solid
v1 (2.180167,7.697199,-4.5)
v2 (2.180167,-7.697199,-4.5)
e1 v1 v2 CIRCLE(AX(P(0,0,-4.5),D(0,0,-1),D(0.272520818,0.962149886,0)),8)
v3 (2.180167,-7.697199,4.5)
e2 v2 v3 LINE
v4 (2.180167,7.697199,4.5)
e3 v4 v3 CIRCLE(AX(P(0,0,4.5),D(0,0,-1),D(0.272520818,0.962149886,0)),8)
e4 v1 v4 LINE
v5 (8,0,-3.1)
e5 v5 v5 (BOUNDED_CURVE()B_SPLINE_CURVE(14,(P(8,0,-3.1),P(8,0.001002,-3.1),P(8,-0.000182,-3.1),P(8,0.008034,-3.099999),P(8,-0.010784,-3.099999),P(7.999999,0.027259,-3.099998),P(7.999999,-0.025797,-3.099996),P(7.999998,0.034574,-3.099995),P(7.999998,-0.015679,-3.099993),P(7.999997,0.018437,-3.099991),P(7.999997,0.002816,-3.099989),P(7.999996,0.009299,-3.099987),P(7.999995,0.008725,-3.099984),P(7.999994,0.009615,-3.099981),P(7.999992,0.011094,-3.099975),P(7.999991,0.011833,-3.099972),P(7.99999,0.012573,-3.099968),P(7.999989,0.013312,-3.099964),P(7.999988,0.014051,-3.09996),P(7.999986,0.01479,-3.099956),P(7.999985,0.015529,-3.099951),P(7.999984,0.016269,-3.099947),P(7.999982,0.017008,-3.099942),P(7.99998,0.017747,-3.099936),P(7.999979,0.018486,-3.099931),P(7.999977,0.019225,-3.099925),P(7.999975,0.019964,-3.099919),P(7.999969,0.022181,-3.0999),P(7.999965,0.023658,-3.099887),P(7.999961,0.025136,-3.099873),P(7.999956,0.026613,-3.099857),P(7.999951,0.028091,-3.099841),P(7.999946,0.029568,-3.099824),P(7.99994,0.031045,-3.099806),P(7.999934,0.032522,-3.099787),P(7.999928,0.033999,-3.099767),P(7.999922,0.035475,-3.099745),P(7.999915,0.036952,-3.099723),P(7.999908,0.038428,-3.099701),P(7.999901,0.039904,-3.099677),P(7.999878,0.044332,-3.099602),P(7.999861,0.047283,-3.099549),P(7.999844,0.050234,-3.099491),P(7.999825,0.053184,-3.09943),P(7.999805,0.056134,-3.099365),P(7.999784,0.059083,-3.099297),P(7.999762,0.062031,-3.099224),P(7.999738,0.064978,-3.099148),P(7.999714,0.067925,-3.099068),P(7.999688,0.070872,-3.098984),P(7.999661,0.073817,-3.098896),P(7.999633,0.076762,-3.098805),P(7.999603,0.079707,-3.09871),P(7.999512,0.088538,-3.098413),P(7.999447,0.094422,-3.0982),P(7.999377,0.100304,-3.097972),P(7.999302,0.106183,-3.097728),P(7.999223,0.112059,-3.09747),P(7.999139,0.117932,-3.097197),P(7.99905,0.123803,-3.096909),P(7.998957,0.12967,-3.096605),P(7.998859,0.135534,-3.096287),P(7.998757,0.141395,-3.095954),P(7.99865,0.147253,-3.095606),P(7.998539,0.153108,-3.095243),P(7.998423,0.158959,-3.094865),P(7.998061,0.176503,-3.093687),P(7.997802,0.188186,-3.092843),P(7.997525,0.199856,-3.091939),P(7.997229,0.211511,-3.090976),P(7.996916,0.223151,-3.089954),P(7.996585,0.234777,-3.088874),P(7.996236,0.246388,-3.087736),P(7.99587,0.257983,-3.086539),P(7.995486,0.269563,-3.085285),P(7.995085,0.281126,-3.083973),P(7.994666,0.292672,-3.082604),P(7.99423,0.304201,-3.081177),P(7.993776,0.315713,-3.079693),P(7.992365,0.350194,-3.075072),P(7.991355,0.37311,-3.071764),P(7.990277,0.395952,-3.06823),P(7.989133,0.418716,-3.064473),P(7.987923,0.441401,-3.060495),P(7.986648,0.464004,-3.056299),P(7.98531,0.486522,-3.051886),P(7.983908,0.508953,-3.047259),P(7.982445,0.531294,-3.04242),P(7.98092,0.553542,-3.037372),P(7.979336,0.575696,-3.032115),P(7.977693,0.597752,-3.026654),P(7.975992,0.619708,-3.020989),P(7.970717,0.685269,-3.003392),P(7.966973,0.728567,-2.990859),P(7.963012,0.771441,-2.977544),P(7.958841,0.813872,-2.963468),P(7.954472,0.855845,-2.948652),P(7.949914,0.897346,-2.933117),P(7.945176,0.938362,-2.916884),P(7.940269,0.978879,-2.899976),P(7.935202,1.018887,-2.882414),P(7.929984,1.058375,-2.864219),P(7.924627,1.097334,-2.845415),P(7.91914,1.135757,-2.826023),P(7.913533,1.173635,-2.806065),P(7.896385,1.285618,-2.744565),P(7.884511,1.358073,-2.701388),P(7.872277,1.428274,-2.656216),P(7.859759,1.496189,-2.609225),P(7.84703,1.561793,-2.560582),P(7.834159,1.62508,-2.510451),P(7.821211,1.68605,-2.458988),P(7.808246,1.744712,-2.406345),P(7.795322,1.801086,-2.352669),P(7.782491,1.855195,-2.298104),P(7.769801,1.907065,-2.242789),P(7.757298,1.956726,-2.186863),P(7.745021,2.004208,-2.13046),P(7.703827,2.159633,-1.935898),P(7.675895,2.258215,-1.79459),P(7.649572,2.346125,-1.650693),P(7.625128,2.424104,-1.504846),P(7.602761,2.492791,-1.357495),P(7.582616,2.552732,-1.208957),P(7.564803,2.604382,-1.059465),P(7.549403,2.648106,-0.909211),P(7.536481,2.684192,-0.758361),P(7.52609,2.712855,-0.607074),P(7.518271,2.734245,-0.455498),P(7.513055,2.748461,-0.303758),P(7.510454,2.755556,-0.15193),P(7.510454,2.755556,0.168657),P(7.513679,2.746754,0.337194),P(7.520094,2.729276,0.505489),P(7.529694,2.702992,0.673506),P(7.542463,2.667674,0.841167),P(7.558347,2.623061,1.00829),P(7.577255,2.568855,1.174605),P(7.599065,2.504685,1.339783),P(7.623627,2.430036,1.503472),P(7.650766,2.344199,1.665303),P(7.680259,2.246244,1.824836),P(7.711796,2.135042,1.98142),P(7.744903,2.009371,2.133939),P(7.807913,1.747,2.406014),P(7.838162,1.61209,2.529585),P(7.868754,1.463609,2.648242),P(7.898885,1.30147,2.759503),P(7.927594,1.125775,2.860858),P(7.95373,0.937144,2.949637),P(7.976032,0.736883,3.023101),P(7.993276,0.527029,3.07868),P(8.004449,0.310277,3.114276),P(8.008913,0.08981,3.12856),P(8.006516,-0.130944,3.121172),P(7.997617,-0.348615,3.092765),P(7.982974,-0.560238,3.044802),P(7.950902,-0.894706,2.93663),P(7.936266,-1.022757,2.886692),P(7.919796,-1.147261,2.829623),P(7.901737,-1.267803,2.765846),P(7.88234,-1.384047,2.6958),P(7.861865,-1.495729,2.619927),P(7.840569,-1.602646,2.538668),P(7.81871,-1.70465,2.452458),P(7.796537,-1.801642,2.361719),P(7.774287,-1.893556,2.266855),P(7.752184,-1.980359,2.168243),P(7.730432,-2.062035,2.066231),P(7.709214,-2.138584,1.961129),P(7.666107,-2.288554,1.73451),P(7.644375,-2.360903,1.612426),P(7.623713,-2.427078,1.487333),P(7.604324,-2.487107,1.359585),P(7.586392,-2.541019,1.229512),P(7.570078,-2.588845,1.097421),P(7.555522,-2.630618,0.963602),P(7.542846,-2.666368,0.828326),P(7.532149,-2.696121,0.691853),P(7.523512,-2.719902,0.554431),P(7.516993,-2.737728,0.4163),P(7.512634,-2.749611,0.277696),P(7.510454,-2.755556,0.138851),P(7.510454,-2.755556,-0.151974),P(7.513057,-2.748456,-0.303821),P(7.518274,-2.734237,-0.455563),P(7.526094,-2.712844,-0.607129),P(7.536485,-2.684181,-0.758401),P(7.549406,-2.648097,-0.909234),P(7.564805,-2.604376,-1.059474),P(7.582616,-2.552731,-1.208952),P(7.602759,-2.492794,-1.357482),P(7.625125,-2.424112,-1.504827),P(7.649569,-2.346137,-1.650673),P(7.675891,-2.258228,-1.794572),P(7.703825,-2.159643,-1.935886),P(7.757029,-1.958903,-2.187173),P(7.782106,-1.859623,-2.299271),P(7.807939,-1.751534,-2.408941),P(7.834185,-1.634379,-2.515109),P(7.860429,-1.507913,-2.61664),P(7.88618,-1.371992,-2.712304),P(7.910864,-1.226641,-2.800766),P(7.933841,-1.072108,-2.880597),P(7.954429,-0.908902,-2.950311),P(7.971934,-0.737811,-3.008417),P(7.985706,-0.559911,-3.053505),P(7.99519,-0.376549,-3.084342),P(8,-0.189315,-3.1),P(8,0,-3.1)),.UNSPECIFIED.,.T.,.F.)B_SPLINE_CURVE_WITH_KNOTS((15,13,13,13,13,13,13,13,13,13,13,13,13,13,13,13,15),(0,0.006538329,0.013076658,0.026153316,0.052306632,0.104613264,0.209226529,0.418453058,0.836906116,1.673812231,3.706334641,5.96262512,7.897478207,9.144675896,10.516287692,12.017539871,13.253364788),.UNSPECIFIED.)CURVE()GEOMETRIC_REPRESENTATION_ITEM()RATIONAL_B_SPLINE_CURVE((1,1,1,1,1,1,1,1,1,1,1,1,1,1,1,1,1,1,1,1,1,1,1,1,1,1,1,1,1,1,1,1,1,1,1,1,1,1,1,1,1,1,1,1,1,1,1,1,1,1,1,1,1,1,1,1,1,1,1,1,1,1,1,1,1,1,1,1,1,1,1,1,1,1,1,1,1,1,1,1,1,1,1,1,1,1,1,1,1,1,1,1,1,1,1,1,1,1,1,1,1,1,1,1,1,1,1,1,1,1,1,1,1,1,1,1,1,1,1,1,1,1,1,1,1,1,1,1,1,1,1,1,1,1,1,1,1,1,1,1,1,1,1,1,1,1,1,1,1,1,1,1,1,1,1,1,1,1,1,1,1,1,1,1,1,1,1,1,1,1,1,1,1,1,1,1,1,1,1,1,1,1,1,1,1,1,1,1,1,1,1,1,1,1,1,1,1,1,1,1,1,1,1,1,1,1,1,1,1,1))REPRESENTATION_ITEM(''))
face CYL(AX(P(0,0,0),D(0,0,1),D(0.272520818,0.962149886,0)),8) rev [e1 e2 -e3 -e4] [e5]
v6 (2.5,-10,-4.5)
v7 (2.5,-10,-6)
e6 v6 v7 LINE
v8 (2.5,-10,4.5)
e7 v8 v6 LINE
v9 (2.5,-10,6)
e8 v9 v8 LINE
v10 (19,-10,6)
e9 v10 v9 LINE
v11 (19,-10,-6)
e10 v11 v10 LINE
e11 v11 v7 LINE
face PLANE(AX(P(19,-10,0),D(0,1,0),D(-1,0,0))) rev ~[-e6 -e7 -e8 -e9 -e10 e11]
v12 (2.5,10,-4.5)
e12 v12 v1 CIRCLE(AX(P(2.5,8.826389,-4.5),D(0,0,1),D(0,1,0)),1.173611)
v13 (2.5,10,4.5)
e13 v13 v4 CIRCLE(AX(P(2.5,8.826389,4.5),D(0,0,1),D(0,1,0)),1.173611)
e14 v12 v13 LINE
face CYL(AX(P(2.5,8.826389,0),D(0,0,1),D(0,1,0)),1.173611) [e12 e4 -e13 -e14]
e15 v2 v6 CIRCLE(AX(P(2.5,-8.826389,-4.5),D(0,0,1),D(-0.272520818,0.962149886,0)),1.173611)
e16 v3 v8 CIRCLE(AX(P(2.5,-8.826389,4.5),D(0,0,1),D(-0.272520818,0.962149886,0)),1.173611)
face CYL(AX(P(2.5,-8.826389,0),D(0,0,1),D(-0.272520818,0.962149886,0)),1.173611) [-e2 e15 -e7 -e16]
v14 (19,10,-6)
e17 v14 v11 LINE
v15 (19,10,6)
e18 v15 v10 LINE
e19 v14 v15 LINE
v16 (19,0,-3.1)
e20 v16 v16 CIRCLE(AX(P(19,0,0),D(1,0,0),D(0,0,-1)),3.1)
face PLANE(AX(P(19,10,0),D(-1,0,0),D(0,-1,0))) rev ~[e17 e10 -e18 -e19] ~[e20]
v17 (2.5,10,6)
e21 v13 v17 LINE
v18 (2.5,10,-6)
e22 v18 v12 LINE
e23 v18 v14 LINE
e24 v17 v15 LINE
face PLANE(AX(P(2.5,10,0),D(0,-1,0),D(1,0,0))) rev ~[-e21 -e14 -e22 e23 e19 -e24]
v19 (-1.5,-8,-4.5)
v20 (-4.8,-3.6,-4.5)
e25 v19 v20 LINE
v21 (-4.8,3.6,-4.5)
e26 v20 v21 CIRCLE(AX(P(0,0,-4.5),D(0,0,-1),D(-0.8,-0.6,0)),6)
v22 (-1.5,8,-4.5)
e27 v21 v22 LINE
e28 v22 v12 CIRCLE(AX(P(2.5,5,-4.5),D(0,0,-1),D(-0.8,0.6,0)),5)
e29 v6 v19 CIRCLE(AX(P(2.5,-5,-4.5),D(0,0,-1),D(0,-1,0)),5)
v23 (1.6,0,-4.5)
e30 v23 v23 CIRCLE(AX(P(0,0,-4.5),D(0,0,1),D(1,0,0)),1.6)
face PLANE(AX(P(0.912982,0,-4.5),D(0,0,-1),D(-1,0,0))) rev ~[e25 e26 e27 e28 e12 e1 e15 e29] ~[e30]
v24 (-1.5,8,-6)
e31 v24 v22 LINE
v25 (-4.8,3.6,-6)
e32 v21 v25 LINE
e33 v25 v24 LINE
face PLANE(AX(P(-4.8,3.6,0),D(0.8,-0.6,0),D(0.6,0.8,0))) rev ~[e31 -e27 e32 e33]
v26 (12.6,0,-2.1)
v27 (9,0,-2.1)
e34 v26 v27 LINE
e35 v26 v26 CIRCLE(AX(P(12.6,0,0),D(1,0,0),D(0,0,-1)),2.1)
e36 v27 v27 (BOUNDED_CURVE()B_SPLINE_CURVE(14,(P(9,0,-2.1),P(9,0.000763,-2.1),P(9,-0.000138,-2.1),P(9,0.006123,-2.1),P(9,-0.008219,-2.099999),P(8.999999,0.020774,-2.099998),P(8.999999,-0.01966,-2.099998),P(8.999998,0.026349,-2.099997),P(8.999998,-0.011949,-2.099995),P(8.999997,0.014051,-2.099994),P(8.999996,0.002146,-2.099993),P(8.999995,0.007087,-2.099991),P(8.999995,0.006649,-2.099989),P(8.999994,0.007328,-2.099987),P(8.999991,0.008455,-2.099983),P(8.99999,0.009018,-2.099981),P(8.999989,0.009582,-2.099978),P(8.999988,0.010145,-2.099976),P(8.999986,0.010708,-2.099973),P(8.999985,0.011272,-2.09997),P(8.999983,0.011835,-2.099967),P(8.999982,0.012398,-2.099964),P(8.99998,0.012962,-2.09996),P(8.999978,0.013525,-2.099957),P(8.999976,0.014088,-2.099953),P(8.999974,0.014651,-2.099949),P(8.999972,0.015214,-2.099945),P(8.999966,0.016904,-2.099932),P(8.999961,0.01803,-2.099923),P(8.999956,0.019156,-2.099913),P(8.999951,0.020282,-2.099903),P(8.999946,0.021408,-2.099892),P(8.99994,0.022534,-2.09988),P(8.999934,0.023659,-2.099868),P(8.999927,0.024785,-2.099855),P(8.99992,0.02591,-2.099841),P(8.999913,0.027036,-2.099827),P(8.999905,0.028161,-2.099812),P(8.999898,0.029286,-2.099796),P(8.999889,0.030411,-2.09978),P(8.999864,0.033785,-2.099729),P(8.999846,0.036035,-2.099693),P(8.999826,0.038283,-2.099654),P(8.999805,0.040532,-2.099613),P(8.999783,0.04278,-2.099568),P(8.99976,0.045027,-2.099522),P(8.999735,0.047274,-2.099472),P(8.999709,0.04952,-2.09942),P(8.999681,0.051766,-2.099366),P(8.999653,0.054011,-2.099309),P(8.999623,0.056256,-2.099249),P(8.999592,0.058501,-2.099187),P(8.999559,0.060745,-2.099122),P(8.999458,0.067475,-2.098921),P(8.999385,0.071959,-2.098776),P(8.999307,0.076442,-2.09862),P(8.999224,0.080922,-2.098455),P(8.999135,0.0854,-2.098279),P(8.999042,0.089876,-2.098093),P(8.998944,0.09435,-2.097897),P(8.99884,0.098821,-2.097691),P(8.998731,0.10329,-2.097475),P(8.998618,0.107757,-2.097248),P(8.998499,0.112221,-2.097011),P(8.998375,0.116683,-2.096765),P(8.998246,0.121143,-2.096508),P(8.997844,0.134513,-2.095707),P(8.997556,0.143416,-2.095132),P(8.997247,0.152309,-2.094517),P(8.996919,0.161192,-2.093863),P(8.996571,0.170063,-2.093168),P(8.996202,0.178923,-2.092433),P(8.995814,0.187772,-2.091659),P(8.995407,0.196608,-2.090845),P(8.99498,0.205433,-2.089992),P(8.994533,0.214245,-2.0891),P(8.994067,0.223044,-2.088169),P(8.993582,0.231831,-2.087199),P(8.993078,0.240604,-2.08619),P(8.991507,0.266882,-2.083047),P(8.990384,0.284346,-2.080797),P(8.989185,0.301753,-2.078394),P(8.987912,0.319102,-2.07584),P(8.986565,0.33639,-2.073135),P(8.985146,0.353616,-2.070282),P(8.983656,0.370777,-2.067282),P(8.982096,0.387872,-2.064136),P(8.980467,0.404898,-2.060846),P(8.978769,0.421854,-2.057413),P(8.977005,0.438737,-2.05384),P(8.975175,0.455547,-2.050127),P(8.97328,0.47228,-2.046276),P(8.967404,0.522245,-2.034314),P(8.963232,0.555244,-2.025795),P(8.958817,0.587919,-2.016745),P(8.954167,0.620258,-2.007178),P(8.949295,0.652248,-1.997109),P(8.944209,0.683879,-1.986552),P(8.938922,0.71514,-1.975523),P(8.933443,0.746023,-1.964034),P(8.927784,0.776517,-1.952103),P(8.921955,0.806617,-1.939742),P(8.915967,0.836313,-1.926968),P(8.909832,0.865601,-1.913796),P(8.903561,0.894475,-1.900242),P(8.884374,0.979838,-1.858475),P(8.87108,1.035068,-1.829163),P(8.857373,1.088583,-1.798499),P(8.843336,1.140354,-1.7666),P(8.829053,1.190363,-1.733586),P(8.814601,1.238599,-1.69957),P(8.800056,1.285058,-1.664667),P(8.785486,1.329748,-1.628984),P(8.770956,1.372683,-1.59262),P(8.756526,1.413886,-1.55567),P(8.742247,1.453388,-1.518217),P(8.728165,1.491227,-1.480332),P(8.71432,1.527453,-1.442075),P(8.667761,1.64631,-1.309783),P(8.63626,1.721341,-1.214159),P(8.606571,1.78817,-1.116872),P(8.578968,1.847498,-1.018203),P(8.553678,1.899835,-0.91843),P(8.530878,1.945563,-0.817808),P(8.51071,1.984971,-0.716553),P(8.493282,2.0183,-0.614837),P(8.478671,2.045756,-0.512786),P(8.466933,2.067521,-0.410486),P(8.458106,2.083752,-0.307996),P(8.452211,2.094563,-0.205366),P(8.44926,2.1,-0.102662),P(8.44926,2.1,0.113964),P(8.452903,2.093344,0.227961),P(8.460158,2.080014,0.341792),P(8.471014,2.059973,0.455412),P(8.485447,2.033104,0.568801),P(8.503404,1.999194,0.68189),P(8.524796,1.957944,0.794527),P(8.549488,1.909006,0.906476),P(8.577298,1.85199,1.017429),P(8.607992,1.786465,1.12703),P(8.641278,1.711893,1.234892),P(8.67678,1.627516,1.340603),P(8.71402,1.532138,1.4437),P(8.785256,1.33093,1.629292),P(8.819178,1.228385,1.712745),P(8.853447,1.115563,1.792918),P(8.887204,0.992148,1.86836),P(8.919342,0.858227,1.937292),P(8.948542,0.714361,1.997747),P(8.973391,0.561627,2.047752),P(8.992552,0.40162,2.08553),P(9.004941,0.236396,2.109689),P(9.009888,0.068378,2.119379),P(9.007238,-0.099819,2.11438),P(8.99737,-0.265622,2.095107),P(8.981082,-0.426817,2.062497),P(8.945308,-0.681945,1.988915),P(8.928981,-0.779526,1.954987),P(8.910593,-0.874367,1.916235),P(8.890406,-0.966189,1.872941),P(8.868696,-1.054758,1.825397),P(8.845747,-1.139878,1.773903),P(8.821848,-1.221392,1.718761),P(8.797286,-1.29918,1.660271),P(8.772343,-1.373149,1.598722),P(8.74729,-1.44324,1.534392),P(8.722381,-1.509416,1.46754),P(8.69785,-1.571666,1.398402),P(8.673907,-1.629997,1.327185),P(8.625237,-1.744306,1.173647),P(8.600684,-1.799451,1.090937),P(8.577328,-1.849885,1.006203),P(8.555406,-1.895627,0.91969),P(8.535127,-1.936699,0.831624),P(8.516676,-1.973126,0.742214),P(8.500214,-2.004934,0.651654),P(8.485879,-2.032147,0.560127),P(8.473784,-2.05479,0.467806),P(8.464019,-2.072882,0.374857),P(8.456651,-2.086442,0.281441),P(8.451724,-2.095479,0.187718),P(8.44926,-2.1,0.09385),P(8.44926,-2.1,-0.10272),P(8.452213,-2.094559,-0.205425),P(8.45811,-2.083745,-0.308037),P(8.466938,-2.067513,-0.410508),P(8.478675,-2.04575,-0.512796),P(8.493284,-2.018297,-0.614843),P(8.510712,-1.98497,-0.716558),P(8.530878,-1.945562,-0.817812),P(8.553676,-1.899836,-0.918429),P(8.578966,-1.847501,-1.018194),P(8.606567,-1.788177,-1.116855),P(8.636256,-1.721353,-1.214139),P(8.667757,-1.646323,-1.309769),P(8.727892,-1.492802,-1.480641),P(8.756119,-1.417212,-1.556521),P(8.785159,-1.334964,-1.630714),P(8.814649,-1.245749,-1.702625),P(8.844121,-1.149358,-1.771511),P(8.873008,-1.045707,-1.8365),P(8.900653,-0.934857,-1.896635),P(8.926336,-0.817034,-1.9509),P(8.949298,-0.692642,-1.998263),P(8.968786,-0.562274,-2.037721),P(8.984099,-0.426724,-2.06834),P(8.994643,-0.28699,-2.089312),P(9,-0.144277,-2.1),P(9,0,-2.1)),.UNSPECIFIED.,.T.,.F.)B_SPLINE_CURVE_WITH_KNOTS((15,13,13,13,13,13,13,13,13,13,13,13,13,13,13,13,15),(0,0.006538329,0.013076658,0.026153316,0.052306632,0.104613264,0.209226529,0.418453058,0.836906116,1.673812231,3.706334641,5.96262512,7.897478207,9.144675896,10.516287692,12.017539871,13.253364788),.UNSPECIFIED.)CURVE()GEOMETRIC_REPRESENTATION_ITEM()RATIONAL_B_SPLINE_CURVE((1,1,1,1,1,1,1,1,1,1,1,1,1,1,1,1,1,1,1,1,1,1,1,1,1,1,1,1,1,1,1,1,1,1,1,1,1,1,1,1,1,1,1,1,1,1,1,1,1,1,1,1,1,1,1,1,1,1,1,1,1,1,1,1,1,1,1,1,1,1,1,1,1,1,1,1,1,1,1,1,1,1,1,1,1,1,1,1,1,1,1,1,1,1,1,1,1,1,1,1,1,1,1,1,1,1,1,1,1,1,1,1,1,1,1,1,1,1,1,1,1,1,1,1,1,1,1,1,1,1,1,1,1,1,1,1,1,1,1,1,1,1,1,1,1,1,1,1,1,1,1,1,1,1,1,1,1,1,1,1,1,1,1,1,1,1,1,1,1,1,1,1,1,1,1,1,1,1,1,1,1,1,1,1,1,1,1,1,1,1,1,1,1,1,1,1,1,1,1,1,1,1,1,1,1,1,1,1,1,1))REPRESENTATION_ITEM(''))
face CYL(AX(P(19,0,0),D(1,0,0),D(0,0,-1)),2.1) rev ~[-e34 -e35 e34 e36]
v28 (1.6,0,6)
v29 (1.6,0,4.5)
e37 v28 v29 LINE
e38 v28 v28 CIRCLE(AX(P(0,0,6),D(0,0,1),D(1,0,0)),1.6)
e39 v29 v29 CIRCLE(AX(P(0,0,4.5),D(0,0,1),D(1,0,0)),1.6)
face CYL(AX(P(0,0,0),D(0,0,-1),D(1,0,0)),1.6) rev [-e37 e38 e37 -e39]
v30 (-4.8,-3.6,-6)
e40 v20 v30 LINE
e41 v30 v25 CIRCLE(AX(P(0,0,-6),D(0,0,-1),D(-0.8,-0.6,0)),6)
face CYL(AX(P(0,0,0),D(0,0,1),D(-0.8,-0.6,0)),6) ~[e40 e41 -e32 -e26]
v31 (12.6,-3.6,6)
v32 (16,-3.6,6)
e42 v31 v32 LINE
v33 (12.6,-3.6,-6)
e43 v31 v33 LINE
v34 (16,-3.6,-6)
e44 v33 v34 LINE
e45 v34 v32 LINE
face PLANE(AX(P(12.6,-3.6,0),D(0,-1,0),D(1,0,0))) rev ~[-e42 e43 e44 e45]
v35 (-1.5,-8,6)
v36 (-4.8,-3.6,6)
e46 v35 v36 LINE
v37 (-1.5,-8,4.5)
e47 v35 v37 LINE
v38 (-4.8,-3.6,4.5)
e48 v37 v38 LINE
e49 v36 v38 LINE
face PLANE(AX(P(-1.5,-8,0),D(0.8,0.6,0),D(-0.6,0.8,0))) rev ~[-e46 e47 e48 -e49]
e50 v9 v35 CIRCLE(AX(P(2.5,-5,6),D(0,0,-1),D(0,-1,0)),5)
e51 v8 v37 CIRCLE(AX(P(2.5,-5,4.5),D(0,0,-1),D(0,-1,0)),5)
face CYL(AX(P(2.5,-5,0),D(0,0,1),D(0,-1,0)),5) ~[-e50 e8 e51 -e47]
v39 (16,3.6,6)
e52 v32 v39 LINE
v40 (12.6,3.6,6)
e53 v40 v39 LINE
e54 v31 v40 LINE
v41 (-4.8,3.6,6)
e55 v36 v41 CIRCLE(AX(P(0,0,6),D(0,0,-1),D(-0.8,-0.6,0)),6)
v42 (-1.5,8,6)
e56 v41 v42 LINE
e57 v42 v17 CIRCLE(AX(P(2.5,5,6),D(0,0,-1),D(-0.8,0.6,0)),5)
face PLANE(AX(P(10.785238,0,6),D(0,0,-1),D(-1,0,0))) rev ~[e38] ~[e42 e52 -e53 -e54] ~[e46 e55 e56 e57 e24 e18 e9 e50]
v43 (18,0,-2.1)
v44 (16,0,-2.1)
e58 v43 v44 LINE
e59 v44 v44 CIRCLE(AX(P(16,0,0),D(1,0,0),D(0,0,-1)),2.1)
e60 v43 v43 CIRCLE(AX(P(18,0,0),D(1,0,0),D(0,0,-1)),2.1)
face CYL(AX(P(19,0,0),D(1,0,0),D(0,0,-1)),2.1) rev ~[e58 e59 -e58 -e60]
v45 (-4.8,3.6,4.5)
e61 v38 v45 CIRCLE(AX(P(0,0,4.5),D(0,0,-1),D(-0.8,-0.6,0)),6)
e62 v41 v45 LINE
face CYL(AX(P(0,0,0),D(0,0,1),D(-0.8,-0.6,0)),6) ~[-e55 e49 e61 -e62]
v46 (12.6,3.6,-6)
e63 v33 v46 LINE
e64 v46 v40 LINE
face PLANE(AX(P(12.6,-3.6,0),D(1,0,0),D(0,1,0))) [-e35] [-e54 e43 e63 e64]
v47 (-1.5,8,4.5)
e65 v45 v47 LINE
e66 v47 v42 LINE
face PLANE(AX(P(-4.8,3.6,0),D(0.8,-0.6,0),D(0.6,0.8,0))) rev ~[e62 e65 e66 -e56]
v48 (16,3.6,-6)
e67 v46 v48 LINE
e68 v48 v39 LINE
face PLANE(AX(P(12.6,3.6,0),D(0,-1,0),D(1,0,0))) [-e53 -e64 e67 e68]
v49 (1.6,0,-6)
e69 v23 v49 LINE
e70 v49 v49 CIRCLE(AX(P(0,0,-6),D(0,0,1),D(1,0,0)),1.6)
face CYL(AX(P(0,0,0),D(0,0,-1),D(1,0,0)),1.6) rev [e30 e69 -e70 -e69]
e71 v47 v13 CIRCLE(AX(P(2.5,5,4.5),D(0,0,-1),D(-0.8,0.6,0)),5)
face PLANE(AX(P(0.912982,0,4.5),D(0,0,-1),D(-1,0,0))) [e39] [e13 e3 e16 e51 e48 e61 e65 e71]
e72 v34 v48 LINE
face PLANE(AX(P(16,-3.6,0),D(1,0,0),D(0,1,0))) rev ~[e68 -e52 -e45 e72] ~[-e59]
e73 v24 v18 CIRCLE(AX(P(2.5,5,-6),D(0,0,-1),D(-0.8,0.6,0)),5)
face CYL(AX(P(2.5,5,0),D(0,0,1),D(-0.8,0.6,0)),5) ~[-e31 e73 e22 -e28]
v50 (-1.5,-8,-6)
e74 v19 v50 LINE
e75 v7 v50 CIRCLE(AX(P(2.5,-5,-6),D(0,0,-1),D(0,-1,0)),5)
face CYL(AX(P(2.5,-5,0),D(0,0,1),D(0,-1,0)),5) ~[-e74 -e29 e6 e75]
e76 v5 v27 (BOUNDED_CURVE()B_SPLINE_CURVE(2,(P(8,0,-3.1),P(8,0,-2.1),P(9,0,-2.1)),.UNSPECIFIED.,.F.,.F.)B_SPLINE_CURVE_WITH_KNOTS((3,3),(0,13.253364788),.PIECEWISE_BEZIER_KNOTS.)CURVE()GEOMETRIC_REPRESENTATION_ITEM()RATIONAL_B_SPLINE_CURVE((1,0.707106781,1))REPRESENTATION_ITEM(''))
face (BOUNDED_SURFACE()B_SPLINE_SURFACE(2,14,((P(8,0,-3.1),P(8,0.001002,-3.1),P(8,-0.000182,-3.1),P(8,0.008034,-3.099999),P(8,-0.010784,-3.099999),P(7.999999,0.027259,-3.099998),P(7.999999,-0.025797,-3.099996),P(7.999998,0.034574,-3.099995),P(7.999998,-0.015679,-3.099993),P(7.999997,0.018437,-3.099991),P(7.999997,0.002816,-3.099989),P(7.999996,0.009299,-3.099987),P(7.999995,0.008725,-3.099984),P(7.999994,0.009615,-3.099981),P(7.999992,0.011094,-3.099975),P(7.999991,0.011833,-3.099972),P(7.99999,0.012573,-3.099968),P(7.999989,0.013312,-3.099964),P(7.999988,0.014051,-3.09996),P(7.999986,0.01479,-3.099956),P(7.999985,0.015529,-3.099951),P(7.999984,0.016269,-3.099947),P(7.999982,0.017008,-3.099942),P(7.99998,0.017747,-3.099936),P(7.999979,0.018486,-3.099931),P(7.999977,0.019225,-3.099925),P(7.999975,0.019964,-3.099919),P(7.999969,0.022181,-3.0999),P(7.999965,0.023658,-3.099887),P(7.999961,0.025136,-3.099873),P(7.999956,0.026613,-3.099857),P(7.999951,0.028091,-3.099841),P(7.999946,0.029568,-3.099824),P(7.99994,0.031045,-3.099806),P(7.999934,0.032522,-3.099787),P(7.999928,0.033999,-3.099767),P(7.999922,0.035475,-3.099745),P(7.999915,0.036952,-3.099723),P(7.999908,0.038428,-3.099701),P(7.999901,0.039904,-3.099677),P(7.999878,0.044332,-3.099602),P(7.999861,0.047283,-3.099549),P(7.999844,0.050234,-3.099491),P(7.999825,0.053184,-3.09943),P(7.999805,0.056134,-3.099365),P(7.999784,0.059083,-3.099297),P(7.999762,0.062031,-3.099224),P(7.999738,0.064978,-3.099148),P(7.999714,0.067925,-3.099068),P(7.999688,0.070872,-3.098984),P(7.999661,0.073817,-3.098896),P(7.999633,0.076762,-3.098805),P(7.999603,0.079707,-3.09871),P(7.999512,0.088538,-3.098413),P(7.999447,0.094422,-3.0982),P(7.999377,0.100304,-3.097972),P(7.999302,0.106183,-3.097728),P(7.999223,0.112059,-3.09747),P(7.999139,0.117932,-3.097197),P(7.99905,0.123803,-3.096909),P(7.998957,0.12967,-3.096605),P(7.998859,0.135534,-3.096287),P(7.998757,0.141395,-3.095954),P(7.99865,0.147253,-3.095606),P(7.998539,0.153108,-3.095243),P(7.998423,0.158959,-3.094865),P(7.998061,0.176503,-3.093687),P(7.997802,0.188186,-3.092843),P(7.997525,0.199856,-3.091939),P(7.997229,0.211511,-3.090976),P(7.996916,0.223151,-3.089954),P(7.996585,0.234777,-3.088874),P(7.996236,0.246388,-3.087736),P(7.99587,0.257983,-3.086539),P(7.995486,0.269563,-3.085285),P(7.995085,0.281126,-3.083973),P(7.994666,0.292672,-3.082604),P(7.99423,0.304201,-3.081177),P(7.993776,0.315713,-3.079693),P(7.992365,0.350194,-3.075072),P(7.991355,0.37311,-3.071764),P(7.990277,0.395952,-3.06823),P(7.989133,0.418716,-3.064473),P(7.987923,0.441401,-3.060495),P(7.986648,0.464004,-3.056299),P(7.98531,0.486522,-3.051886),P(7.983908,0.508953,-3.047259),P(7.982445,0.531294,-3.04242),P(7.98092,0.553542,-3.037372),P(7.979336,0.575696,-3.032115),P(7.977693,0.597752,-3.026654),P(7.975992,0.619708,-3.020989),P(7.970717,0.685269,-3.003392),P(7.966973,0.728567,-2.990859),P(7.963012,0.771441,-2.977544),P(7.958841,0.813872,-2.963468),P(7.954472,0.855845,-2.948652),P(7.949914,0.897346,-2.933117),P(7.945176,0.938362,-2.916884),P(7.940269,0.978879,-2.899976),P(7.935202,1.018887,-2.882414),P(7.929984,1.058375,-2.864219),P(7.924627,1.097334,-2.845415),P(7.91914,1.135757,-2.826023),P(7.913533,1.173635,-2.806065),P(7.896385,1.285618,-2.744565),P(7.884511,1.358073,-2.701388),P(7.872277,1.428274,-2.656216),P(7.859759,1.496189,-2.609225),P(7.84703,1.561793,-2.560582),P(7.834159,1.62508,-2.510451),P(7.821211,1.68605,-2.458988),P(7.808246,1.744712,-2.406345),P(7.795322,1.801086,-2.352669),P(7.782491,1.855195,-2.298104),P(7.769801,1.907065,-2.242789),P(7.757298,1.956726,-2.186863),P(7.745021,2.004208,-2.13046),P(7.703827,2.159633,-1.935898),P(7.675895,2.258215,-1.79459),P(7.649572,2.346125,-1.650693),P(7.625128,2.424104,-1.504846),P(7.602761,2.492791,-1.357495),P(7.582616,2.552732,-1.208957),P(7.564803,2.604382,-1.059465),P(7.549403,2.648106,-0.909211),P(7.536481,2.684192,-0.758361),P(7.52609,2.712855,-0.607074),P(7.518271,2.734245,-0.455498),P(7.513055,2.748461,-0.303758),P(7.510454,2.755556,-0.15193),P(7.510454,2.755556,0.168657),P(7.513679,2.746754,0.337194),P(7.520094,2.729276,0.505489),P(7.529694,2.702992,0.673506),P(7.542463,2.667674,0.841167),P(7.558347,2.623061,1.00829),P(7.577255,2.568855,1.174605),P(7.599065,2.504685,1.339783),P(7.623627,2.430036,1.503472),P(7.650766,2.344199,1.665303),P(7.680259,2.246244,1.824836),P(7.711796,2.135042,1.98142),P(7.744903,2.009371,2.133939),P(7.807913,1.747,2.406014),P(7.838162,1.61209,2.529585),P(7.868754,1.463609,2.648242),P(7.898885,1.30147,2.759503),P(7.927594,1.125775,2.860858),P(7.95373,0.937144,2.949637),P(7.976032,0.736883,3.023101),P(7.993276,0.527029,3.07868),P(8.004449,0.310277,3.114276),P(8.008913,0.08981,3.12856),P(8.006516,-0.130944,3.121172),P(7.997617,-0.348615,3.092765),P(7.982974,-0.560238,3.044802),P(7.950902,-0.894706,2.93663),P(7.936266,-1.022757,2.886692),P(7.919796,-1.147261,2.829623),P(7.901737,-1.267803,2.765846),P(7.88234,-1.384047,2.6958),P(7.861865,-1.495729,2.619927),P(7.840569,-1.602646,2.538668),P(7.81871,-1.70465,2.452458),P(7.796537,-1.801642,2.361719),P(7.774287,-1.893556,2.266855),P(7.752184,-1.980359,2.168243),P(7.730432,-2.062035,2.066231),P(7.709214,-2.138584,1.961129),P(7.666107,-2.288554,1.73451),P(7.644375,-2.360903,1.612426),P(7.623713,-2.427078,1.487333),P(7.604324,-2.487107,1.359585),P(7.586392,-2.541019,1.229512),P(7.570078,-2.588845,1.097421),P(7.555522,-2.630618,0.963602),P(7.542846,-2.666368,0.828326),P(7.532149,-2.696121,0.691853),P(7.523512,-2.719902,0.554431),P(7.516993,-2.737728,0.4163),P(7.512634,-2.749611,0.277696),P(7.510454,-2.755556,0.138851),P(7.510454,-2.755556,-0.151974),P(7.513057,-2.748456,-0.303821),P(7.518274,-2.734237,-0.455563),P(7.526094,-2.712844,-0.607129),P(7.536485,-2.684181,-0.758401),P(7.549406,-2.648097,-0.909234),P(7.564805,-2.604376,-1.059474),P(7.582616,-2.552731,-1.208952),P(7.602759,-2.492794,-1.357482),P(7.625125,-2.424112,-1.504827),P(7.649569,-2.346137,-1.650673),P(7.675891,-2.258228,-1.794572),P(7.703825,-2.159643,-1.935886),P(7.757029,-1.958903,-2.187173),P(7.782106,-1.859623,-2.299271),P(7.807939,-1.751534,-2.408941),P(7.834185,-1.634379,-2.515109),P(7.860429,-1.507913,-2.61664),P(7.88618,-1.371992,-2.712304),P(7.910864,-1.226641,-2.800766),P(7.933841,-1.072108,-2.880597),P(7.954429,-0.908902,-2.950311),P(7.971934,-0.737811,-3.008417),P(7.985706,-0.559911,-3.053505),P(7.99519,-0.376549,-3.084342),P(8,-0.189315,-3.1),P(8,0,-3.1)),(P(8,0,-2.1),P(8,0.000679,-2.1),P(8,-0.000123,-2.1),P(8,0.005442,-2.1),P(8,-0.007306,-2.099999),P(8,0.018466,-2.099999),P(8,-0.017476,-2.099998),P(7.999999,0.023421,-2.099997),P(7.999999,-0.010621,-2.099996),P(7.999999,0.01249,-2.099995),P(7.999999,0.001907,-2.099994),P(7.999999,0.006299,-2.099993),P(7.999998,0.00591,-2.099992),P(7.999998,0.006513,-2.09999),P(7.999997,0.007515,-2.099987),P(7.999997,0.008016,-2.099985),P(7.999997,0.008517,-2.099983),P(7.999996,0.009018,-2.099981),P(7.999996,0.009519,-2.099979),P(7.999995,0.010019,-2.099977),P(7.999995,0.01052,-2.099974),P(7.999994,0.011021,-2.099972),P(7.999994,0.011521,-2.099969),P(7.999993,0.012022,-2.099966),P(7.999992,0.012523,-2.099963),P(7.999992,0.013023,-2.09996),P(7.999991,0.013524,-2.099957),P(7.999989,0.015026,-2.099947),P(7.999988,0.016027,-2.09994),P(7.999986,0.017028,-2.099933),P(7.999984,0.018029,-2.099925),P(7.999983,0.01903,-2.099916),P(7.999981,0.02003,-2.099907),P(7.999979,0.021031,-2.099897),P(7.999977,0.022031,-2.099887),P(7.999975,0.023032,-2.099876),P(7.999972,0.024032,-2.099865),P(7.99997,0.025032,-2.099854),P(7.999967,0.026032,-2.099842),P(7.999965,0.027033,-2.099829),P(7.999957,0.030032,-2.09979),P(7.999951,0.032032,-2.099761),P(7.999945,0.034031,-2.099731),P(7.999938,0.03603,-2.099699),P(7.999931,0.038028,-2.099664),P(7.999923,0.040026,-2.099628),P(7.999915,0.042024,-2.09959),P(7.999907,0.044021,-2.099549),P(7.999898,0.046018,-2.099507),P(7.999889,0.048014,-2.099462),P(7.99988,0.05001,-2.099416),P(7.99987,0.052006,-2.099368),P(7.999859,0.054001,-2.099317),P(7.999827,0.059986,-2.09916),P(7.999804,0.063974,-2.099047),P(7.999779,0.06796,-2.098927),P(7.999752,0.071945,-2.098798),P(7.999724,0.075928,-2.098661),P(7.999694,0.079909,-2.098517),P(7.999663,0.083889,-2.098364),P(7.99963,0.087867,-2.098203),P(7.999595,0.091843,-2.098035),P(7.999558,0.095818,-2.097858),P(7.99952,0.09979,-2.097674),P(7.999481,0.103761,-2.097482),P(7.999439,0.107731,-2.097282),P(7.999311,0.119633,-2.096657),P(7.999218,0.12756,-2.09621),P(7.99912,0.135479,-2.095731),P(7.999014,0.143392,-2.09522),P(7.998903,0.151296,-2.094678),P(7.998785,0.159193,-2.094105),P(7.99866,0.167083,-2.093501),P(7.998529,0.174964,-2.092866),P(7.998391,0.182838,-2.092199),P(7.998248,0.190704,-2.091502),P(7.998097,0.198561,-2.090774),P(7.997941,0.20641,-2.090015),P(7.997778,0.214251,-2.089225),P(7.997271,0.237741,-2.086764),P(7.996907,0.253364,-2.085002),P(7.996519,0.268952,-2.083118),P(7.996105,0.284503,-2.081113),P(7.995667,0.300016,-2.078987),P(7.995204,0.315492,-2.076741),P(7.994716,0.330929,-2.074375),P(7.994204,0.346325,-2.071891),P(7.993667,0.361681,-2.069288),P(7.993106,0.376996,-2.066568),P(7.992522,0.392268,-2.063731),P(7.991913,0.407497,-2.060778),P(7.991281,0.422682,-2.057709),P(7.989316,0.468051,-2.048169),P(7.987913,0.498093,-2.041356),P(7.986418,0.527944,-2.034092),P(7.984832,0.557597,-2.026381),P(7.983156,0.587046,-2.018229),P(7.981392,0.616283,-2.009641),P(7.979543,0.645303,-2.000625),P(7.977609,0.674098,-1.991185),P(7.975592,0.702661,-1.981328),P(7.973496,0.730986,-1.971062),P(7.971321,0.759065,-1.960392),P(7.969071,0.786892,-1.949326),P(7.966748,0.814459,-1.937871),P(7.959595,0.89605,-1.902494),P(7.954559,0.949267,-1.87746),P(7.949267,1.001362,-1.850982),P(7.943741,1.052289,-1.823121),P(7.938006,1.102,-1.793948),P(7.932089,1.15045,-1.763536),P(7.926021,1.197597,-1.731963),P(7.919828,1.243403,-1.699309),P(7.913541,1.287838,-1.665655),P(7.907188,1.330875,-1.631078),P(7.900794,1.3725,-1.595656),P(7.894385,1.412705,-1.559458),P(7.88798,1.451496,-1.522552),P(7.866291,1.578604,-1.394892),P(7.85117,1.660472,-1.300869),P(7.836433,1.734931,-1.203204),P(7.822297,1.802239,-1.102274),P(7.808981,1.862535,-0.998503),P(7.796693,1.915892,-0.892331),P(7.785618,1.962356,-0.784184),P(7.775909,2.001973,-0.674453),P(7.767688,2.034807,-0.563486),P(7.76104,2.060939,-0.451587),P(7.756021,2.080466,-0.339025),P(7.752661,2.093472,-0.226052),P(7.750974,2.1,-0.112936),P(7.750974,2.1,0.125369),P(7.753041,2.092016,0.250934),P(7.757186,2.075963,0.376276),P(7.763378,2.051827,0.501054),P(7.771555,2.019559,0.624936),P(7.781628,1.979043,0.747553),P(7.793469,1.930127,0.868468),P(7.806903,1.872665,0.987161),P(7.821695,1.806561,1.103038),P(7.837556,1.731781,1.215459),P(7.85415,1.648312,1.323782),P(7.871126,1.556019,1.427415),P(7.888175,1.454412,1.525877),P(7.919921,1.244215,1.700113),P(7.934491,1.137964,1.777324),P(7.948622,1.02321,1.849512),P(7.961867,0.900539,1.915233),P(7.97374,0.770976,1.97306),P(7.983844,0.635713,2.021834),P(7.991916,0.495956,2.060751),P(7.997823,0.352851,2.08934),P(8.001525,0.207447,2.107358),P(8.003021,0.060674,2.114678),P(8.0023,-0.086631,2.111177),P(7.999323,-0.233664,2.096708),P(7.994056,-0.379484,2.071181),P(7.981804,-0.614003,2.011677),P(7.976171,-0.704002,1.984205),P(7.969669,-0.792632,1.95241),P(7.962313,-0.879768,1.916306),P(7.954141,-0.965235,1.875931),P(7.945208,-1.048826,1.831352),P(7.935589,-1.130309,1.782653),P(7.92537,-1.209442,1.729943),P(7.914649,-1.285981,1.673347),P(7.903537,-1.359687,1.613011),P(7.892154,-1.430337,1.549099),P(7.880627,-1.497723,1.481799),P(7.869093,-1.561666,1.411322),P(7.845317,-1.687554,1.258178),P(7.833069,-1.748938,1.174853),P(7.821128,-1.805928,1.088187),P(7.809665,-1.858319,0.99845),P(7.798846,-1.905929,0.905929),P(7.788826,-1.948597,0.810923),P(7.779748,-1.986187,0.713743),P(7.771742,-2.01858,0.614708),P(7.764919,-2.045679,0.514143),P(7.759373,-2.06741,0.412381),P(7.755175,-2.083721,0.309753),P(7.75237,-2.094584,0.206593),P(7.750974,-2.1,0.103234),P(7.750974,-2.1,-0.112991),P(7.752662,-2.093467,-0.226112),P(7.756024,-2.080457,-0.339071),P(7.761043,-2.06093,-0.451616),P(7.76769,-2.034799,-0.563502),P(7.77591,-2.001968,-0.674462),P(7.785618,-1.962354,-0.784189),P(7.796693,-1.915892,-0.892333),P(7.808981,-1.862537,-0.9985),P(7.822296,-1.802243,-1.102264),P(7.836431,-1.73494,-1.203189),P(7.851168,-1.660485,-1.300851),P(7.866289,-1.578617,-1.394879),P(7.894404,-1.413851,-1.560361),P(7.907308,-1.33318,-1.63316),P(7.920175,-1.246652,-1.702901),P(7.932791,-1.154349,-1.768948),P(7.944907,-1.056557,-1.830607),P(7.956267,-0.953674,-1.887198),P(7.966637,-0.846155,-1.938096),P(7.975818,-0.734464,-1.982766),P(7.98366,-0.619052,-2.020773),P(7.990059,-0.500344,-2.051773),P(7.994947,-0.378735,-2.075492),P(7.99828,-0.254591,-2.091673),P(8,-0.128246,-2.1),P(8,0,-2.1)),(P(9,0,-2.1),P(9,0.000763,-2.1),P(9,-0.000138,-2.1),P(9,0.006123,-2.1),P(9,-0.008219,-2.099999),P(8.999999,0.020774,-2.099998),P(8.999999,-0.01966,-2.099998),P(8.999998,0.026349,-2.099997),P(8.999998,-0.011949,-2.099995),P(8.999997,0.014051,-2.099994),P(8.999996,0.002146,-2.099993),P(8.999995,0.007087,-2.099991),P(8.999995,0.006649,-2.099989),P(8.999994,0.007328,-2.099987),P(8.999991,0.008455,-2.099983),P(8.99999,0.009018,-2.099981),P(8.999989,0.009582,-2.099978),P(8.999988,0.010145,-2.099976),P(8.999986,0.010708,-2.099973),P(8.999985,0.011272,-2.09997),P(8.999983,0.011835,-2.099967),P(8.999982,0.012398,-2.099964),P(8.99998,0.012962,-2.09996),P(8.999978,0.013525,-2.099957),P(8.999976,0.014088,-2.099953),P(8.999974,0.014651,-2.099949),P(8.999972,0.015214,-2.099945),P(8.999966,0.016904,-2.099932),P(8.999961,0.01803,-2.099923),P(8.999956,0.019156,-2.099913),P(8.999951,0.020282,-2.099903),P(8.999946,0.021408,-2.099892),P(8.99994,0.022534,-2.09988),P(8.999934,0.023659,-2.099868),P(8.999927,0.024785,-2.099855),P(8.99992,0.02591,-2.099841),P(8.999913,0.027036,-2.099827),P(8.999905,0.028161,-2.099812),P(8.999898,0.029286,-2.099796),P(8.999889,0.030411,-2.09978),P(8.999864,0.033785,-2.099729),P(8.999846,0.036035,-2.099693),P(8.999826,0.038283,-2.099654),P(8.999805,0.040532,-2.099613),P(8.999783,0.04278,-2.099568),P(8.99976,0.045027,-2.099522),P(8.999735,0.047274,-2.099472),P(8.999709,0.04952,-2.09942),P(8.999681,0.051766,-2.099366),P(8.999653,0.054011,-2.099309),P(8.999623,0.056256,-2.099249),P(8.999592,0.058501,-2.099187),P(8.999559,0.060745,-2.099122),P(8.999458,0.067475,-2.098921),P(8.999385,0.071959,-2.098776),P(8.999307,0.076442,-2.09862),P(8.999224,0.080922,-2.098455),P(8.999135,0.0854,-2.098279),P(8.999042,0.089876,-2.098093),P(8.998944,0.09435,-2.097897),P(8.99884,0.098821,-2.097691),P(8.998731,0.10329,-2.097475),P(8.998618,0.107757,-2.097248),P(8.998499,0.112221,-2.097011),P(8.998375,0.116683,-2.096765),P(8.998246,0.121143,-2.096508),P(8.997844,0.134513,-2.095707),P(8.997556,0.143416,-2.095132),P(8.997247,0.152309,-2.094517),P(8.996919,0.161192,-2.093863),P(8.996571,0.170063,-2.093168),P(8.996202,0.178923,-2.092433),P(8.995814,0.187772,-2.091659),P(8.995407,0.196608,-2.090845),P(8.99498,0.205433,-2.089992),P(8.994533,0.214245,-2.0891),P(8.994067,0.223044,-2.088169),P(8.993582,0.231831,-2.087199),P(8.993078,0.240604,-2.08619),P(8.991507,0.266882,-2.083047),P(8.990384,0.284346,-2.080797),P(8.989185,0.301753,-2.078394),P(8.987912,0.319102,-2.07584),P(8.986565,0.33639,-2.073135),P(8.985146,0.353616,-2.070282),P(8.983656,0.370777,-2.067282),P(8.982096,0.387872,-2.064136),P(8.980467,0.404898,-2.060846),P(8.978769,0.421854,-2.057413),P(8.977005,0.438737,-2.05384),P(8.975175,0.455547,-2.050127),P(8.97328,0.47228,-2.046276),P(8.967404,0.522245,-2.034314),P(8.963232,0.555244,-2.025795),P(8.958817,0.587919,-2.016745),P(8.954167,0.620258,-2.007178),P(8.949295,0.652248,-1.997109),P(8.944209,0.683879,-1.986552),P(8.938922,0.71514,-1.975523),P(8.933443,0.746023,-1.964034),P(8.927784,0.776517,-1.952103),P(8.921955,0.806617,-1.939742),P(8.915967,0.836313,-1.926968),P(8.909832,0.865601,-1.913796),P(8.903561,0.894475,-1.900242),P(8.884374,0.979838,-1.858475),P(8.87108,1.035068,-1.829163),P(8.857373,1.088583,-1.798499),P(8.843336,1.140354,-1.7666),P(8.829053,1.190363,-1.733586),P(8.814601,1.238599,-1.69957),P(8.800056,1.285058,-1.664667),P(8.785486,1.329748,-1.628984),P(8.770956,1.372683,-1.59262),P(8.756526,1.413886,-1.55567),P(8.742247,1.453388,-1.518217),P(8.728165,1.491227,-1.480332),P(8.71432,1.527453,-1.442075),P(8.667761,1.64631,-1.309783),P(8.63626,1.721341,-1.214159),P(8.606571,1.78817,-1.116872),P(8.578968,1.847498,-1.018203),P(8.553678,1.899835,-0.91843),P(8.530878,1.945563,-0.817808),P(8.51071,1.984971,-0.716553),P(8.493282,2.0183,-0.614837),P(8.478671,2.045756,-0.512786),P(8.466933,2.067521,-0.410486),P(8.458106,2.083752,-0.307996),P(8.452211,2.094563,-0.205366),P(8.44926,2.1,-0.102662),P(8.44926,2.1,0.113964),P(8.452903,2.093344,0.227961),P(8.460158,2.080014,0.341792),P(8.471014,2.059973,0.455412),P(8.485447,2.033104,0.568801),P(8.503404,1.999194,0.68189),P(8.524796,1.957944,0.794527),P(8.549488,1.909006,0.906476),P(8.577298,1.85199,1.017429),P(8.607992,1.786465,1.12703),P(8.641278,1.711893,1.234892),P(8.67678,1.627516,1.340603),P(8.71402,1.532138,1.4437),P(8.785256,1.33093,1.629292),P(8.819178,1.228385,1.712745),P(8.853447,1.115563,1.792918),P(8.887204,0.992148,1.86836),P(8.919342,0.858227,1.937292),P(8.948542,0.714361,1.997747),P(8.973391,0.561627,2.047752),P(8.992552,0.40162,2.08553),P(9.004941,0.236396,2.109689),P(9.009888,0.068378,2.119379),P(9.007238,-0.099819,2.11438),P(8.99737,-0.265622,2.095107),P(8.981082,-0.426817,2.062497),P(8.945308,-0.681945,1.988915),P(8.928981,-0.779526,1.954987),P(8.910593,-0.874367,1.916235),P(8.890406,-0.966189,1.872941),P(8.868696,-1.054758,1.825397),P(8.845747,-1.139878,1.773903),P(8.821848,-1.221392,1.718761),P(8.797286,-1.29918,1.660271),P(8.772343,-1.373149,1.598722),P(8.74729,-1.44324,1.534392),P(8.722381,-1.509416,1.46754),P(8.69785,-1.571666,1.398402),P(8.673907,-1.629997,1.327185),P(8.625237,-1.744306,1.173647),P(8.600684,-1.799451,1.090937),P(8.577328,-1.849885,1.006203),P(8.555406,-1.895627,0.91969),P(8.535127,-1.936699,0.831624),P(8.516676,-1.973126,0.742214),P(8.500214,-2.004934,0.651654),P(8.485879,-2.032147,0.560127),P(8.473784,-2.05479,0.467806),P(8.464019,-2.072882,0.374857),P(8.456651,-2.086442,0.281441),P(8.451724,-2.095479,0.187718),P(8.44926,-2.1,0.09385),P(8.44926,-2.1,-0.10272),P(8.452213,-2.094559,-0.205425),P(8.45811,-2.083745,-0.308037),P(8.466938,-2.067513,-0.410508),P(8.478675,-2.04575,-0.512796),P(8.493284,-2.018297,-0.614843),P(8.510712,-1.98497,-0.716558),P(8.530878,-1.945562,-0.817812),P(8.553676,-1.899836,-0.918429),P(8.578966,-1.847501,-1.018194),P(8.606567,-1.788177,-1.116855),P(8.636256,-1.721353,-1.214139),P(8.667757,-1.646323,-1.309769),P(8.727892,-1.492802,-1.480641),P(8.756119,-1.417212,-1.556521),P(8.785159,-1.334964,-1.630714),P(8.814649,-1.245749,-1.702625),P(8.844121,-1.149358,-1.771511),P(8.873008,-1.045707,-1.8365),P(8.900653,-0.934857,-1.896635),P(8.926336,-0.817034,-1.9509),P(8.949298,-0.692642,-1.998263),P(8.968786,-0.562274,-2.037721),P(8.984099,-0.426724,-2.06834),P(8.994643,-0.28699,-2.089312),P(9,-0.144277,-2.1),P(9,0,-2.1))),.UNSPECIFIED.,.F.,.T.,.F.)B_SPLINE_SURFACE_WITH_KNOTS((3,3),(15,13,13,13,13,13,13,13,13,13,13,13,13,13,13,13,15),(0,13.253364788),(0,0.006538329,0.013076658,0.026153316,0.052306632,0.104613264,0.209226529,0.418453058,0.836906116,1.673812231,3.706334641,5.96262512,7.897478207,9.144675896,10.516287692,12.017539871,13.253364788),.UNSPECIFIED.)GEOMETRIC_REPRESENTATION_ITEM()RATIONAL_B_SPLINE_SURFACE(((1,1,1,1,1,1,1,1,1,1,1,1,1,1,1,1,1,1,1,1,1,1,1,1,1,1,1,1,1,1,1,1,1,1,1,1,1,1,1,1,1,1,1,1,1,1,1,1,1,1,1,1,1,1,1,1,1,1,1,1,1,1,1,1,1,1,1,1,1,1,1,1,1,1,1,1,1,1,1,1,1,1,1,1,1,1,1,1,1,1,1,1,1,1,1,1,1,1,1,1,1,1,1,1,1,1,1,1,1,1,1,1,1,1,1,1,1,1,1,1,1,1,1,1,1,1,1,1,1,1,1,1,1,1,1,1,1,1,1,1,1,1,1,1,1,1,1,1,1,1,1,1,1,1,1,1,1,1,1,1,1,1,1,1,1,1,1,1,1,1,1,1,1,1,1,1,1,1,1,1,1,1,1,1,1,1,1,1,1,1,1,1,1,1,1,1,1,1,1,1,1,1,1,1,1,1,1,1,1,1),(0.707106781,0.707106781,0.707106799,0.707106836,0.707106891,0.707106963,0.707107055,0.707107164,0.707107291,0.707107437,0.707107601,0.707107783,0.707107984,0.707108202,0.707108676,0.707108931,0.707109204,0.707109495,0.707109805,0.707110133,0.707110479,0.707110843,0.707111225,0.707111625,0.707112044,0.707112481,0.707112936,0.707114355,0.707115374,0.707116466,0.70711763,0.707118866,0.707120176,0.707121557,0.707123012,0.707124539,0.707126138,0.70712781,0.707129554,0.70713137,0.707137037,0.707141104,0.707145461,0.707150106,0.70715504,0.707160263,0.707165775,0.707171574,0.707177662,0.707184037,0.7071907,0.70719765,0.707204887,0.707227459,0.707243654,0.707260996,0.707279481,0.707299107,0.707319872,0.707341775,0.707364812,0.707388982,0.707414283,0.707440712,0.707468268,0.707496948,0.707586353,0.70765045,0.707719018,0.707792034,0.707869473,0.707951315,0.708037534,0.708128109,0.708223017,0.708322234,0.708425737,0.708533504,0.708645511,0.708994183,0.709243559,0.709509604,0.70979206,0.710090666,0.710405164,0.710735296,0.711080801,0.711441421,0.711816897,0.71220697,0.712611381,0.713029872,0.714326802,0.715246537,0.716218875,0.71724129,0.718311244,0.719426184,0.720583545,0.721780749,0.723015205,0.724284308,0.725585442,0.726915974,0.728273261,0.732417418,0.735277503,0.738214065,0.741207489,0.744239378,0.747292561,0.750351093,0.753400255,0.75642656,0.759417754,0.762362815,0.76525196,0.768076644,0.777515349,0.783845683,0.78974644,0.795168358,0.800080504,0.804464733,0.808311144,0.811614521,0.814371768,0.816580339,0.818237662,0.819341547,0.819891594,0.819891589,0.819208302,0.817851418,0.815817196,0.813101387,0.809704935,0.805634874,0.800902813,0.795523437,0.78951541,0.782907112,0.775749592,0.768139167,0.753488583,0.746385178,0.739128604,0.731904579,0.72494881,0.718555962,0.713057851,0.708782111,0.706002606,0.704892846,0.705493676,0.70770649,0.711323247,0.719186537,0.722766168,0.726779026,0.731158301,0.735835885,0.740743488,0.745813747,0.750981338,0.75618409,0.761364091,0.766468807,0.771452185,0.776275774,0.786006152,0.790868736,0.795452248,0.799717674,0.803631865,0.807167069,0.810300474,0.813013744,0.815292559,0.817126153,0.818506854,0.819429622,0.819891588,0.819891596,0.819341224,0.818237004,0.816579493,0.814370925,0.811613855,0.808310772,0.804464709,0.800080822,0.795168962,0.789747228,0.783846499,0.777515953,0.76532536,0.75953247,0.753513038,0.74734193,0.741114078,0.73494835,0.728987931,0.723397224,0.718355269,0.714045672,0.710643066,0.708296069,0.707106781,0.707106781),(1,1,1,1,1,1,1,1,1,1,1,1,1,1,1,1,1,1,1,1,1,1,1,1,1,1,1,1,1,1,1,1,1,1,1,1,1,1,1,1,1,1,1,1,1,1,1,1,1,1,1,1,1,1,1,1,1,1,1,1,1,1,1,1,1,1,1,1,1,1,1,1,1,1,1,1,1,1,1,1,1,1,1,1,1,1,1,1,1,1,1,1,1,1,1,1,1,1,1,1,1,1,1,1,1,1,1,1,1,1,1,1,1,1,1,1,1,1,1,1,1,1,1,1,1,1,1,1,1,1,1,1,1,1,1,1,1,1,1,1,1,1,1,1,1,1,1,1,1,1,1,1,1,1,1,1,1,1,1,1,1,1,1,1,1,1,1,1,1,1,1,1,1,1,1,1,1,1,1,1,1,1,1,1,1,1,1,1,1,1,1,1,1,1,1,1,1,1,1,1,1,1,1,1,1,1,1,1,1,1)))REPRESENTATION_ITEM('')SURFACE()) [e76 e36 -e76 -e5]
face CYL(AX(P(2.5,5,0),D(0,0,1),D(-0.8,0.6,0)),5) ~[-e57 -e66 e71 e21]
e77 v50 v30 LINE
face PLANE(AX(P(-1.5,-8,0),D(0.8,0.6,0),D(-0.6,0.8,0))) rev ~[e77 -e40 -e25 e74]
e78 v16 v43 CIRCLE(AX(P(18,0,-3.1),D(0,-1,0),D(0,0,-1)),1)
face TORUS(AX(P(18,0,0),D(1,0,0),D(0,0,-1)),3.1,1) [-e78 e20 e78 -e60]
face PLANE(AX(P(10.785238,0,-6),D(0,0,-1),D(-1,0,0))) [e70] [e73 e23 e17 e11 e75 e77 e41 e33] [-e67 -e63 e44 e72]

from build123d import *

# Parameters (mm, degrees)
SKETCH_1_R          = 1.6
SKETCH_1_W          = 3.4
SKETCH_1_H          = 7.2
EXTRUDE_1_DEPTH     = 6
SKETCH_1_3_R        = 1.6
CUT_EXTRUDE_1_DEPTH = 4.5
SKETCH_2_R          = 2.1
CUT_EXTRUDE_2_DEPTH = 28.586228448
FILLET_1_R          = 1


with BuildPart() as part:
    # Эскиз1 → Бобышка-Вытянуть1 (new, symmetric)
    with BuildSketch(Plane.XY):
        with BuildLine():
            ThreePointArc((-1.5, -8), (0.263932023, -9.472135955), (2.5, -10))
            Line((2.5, -10), (19, -10))
            Line((19, -10), (19, 10))
            Line((19, 10), (2.5, 10))
            ThreePointArc((2.5, 10), (0.263932023, 9.472135955), (-1.5, 8))
            Line((-1.5, 8), (-4.8, 3.6))
            ThreePointArc((-4.8, 3.6), (-6, 0), (-4.8, -3.6))
            Line((-4.8, -3.6), (-1.5, -8))
        make_face()
        Circle(SKETCH_1_R, mode=Mode.SUBTRACT)
        with Locations((14.3, 0)):
            Rectangle(SKETCH_1_W, SKETCH_1_H, mode=Mode.SUBTRACT)
    extrude(amount=EXTRUDE_1_DEPTH, both=True)

    # Эскиз1<3> → Вырез-Вытянуть1 (cut, symmetric)
    with BuildSketch(Plane.XY):
        with BuildLine():
            ThreePointArc((2.18016654, 7.697199092), (1.337547263, 8.987840658), (2.5, 10))
            ThreePointArc((2.5, 10), (0.263932023, 9.472135955), (-1.5, 8))
            Line((-1.5, 8), (-4.8, 3.6))
            ThreePointArc((-4.8, 3.6), (-6, 0), (-4.8, -3.6))
            Line((-4.8, -3.6), (-1.5, -8))
            ThreePointArc((-1.5, -8), (0.263932023, -9.472135955), (2.5, -10))
            ThreePointArc((2.5, -10), (1.337547263, -8.987840658), (2.18016654, -7.697199092))
            ThreePointArc((2.18016654, -7.697199092), (8, 0), (2.18016654, 7.697199092))
        make_face()
        Circle(SKETCH_1_3_R, mode=Mode.SUBTRACT)
    extrude(amount=CUT_EXTRUDE_1_DEPTH, both=True, mode=Mode.SUBTRACT)

    # Эскиз2 → Вырез-Вытянуть2 (cut, through all)
    with BuildSketch(Plane(origin=(19, 0, 0), x_dir=(0, 0, -1), z_dir=(1, 0, 0))):
        Circle(SKETCH_2_R)
    extrude(amount=-CUT_EXTRUDE_2_DEPTH, mode=Mode.SUBTRACT)

    # Скругление1
    fillet_1_edges = [part.edges().sort_by_distance(p)[0] for p in [
        (7.999999993, 1e-09, 2.100000016),
        (19, 0, 2.1),
    ]]
    fillet(fillet_1_edges, radius=FILLET_1_R)


solid = part.part
